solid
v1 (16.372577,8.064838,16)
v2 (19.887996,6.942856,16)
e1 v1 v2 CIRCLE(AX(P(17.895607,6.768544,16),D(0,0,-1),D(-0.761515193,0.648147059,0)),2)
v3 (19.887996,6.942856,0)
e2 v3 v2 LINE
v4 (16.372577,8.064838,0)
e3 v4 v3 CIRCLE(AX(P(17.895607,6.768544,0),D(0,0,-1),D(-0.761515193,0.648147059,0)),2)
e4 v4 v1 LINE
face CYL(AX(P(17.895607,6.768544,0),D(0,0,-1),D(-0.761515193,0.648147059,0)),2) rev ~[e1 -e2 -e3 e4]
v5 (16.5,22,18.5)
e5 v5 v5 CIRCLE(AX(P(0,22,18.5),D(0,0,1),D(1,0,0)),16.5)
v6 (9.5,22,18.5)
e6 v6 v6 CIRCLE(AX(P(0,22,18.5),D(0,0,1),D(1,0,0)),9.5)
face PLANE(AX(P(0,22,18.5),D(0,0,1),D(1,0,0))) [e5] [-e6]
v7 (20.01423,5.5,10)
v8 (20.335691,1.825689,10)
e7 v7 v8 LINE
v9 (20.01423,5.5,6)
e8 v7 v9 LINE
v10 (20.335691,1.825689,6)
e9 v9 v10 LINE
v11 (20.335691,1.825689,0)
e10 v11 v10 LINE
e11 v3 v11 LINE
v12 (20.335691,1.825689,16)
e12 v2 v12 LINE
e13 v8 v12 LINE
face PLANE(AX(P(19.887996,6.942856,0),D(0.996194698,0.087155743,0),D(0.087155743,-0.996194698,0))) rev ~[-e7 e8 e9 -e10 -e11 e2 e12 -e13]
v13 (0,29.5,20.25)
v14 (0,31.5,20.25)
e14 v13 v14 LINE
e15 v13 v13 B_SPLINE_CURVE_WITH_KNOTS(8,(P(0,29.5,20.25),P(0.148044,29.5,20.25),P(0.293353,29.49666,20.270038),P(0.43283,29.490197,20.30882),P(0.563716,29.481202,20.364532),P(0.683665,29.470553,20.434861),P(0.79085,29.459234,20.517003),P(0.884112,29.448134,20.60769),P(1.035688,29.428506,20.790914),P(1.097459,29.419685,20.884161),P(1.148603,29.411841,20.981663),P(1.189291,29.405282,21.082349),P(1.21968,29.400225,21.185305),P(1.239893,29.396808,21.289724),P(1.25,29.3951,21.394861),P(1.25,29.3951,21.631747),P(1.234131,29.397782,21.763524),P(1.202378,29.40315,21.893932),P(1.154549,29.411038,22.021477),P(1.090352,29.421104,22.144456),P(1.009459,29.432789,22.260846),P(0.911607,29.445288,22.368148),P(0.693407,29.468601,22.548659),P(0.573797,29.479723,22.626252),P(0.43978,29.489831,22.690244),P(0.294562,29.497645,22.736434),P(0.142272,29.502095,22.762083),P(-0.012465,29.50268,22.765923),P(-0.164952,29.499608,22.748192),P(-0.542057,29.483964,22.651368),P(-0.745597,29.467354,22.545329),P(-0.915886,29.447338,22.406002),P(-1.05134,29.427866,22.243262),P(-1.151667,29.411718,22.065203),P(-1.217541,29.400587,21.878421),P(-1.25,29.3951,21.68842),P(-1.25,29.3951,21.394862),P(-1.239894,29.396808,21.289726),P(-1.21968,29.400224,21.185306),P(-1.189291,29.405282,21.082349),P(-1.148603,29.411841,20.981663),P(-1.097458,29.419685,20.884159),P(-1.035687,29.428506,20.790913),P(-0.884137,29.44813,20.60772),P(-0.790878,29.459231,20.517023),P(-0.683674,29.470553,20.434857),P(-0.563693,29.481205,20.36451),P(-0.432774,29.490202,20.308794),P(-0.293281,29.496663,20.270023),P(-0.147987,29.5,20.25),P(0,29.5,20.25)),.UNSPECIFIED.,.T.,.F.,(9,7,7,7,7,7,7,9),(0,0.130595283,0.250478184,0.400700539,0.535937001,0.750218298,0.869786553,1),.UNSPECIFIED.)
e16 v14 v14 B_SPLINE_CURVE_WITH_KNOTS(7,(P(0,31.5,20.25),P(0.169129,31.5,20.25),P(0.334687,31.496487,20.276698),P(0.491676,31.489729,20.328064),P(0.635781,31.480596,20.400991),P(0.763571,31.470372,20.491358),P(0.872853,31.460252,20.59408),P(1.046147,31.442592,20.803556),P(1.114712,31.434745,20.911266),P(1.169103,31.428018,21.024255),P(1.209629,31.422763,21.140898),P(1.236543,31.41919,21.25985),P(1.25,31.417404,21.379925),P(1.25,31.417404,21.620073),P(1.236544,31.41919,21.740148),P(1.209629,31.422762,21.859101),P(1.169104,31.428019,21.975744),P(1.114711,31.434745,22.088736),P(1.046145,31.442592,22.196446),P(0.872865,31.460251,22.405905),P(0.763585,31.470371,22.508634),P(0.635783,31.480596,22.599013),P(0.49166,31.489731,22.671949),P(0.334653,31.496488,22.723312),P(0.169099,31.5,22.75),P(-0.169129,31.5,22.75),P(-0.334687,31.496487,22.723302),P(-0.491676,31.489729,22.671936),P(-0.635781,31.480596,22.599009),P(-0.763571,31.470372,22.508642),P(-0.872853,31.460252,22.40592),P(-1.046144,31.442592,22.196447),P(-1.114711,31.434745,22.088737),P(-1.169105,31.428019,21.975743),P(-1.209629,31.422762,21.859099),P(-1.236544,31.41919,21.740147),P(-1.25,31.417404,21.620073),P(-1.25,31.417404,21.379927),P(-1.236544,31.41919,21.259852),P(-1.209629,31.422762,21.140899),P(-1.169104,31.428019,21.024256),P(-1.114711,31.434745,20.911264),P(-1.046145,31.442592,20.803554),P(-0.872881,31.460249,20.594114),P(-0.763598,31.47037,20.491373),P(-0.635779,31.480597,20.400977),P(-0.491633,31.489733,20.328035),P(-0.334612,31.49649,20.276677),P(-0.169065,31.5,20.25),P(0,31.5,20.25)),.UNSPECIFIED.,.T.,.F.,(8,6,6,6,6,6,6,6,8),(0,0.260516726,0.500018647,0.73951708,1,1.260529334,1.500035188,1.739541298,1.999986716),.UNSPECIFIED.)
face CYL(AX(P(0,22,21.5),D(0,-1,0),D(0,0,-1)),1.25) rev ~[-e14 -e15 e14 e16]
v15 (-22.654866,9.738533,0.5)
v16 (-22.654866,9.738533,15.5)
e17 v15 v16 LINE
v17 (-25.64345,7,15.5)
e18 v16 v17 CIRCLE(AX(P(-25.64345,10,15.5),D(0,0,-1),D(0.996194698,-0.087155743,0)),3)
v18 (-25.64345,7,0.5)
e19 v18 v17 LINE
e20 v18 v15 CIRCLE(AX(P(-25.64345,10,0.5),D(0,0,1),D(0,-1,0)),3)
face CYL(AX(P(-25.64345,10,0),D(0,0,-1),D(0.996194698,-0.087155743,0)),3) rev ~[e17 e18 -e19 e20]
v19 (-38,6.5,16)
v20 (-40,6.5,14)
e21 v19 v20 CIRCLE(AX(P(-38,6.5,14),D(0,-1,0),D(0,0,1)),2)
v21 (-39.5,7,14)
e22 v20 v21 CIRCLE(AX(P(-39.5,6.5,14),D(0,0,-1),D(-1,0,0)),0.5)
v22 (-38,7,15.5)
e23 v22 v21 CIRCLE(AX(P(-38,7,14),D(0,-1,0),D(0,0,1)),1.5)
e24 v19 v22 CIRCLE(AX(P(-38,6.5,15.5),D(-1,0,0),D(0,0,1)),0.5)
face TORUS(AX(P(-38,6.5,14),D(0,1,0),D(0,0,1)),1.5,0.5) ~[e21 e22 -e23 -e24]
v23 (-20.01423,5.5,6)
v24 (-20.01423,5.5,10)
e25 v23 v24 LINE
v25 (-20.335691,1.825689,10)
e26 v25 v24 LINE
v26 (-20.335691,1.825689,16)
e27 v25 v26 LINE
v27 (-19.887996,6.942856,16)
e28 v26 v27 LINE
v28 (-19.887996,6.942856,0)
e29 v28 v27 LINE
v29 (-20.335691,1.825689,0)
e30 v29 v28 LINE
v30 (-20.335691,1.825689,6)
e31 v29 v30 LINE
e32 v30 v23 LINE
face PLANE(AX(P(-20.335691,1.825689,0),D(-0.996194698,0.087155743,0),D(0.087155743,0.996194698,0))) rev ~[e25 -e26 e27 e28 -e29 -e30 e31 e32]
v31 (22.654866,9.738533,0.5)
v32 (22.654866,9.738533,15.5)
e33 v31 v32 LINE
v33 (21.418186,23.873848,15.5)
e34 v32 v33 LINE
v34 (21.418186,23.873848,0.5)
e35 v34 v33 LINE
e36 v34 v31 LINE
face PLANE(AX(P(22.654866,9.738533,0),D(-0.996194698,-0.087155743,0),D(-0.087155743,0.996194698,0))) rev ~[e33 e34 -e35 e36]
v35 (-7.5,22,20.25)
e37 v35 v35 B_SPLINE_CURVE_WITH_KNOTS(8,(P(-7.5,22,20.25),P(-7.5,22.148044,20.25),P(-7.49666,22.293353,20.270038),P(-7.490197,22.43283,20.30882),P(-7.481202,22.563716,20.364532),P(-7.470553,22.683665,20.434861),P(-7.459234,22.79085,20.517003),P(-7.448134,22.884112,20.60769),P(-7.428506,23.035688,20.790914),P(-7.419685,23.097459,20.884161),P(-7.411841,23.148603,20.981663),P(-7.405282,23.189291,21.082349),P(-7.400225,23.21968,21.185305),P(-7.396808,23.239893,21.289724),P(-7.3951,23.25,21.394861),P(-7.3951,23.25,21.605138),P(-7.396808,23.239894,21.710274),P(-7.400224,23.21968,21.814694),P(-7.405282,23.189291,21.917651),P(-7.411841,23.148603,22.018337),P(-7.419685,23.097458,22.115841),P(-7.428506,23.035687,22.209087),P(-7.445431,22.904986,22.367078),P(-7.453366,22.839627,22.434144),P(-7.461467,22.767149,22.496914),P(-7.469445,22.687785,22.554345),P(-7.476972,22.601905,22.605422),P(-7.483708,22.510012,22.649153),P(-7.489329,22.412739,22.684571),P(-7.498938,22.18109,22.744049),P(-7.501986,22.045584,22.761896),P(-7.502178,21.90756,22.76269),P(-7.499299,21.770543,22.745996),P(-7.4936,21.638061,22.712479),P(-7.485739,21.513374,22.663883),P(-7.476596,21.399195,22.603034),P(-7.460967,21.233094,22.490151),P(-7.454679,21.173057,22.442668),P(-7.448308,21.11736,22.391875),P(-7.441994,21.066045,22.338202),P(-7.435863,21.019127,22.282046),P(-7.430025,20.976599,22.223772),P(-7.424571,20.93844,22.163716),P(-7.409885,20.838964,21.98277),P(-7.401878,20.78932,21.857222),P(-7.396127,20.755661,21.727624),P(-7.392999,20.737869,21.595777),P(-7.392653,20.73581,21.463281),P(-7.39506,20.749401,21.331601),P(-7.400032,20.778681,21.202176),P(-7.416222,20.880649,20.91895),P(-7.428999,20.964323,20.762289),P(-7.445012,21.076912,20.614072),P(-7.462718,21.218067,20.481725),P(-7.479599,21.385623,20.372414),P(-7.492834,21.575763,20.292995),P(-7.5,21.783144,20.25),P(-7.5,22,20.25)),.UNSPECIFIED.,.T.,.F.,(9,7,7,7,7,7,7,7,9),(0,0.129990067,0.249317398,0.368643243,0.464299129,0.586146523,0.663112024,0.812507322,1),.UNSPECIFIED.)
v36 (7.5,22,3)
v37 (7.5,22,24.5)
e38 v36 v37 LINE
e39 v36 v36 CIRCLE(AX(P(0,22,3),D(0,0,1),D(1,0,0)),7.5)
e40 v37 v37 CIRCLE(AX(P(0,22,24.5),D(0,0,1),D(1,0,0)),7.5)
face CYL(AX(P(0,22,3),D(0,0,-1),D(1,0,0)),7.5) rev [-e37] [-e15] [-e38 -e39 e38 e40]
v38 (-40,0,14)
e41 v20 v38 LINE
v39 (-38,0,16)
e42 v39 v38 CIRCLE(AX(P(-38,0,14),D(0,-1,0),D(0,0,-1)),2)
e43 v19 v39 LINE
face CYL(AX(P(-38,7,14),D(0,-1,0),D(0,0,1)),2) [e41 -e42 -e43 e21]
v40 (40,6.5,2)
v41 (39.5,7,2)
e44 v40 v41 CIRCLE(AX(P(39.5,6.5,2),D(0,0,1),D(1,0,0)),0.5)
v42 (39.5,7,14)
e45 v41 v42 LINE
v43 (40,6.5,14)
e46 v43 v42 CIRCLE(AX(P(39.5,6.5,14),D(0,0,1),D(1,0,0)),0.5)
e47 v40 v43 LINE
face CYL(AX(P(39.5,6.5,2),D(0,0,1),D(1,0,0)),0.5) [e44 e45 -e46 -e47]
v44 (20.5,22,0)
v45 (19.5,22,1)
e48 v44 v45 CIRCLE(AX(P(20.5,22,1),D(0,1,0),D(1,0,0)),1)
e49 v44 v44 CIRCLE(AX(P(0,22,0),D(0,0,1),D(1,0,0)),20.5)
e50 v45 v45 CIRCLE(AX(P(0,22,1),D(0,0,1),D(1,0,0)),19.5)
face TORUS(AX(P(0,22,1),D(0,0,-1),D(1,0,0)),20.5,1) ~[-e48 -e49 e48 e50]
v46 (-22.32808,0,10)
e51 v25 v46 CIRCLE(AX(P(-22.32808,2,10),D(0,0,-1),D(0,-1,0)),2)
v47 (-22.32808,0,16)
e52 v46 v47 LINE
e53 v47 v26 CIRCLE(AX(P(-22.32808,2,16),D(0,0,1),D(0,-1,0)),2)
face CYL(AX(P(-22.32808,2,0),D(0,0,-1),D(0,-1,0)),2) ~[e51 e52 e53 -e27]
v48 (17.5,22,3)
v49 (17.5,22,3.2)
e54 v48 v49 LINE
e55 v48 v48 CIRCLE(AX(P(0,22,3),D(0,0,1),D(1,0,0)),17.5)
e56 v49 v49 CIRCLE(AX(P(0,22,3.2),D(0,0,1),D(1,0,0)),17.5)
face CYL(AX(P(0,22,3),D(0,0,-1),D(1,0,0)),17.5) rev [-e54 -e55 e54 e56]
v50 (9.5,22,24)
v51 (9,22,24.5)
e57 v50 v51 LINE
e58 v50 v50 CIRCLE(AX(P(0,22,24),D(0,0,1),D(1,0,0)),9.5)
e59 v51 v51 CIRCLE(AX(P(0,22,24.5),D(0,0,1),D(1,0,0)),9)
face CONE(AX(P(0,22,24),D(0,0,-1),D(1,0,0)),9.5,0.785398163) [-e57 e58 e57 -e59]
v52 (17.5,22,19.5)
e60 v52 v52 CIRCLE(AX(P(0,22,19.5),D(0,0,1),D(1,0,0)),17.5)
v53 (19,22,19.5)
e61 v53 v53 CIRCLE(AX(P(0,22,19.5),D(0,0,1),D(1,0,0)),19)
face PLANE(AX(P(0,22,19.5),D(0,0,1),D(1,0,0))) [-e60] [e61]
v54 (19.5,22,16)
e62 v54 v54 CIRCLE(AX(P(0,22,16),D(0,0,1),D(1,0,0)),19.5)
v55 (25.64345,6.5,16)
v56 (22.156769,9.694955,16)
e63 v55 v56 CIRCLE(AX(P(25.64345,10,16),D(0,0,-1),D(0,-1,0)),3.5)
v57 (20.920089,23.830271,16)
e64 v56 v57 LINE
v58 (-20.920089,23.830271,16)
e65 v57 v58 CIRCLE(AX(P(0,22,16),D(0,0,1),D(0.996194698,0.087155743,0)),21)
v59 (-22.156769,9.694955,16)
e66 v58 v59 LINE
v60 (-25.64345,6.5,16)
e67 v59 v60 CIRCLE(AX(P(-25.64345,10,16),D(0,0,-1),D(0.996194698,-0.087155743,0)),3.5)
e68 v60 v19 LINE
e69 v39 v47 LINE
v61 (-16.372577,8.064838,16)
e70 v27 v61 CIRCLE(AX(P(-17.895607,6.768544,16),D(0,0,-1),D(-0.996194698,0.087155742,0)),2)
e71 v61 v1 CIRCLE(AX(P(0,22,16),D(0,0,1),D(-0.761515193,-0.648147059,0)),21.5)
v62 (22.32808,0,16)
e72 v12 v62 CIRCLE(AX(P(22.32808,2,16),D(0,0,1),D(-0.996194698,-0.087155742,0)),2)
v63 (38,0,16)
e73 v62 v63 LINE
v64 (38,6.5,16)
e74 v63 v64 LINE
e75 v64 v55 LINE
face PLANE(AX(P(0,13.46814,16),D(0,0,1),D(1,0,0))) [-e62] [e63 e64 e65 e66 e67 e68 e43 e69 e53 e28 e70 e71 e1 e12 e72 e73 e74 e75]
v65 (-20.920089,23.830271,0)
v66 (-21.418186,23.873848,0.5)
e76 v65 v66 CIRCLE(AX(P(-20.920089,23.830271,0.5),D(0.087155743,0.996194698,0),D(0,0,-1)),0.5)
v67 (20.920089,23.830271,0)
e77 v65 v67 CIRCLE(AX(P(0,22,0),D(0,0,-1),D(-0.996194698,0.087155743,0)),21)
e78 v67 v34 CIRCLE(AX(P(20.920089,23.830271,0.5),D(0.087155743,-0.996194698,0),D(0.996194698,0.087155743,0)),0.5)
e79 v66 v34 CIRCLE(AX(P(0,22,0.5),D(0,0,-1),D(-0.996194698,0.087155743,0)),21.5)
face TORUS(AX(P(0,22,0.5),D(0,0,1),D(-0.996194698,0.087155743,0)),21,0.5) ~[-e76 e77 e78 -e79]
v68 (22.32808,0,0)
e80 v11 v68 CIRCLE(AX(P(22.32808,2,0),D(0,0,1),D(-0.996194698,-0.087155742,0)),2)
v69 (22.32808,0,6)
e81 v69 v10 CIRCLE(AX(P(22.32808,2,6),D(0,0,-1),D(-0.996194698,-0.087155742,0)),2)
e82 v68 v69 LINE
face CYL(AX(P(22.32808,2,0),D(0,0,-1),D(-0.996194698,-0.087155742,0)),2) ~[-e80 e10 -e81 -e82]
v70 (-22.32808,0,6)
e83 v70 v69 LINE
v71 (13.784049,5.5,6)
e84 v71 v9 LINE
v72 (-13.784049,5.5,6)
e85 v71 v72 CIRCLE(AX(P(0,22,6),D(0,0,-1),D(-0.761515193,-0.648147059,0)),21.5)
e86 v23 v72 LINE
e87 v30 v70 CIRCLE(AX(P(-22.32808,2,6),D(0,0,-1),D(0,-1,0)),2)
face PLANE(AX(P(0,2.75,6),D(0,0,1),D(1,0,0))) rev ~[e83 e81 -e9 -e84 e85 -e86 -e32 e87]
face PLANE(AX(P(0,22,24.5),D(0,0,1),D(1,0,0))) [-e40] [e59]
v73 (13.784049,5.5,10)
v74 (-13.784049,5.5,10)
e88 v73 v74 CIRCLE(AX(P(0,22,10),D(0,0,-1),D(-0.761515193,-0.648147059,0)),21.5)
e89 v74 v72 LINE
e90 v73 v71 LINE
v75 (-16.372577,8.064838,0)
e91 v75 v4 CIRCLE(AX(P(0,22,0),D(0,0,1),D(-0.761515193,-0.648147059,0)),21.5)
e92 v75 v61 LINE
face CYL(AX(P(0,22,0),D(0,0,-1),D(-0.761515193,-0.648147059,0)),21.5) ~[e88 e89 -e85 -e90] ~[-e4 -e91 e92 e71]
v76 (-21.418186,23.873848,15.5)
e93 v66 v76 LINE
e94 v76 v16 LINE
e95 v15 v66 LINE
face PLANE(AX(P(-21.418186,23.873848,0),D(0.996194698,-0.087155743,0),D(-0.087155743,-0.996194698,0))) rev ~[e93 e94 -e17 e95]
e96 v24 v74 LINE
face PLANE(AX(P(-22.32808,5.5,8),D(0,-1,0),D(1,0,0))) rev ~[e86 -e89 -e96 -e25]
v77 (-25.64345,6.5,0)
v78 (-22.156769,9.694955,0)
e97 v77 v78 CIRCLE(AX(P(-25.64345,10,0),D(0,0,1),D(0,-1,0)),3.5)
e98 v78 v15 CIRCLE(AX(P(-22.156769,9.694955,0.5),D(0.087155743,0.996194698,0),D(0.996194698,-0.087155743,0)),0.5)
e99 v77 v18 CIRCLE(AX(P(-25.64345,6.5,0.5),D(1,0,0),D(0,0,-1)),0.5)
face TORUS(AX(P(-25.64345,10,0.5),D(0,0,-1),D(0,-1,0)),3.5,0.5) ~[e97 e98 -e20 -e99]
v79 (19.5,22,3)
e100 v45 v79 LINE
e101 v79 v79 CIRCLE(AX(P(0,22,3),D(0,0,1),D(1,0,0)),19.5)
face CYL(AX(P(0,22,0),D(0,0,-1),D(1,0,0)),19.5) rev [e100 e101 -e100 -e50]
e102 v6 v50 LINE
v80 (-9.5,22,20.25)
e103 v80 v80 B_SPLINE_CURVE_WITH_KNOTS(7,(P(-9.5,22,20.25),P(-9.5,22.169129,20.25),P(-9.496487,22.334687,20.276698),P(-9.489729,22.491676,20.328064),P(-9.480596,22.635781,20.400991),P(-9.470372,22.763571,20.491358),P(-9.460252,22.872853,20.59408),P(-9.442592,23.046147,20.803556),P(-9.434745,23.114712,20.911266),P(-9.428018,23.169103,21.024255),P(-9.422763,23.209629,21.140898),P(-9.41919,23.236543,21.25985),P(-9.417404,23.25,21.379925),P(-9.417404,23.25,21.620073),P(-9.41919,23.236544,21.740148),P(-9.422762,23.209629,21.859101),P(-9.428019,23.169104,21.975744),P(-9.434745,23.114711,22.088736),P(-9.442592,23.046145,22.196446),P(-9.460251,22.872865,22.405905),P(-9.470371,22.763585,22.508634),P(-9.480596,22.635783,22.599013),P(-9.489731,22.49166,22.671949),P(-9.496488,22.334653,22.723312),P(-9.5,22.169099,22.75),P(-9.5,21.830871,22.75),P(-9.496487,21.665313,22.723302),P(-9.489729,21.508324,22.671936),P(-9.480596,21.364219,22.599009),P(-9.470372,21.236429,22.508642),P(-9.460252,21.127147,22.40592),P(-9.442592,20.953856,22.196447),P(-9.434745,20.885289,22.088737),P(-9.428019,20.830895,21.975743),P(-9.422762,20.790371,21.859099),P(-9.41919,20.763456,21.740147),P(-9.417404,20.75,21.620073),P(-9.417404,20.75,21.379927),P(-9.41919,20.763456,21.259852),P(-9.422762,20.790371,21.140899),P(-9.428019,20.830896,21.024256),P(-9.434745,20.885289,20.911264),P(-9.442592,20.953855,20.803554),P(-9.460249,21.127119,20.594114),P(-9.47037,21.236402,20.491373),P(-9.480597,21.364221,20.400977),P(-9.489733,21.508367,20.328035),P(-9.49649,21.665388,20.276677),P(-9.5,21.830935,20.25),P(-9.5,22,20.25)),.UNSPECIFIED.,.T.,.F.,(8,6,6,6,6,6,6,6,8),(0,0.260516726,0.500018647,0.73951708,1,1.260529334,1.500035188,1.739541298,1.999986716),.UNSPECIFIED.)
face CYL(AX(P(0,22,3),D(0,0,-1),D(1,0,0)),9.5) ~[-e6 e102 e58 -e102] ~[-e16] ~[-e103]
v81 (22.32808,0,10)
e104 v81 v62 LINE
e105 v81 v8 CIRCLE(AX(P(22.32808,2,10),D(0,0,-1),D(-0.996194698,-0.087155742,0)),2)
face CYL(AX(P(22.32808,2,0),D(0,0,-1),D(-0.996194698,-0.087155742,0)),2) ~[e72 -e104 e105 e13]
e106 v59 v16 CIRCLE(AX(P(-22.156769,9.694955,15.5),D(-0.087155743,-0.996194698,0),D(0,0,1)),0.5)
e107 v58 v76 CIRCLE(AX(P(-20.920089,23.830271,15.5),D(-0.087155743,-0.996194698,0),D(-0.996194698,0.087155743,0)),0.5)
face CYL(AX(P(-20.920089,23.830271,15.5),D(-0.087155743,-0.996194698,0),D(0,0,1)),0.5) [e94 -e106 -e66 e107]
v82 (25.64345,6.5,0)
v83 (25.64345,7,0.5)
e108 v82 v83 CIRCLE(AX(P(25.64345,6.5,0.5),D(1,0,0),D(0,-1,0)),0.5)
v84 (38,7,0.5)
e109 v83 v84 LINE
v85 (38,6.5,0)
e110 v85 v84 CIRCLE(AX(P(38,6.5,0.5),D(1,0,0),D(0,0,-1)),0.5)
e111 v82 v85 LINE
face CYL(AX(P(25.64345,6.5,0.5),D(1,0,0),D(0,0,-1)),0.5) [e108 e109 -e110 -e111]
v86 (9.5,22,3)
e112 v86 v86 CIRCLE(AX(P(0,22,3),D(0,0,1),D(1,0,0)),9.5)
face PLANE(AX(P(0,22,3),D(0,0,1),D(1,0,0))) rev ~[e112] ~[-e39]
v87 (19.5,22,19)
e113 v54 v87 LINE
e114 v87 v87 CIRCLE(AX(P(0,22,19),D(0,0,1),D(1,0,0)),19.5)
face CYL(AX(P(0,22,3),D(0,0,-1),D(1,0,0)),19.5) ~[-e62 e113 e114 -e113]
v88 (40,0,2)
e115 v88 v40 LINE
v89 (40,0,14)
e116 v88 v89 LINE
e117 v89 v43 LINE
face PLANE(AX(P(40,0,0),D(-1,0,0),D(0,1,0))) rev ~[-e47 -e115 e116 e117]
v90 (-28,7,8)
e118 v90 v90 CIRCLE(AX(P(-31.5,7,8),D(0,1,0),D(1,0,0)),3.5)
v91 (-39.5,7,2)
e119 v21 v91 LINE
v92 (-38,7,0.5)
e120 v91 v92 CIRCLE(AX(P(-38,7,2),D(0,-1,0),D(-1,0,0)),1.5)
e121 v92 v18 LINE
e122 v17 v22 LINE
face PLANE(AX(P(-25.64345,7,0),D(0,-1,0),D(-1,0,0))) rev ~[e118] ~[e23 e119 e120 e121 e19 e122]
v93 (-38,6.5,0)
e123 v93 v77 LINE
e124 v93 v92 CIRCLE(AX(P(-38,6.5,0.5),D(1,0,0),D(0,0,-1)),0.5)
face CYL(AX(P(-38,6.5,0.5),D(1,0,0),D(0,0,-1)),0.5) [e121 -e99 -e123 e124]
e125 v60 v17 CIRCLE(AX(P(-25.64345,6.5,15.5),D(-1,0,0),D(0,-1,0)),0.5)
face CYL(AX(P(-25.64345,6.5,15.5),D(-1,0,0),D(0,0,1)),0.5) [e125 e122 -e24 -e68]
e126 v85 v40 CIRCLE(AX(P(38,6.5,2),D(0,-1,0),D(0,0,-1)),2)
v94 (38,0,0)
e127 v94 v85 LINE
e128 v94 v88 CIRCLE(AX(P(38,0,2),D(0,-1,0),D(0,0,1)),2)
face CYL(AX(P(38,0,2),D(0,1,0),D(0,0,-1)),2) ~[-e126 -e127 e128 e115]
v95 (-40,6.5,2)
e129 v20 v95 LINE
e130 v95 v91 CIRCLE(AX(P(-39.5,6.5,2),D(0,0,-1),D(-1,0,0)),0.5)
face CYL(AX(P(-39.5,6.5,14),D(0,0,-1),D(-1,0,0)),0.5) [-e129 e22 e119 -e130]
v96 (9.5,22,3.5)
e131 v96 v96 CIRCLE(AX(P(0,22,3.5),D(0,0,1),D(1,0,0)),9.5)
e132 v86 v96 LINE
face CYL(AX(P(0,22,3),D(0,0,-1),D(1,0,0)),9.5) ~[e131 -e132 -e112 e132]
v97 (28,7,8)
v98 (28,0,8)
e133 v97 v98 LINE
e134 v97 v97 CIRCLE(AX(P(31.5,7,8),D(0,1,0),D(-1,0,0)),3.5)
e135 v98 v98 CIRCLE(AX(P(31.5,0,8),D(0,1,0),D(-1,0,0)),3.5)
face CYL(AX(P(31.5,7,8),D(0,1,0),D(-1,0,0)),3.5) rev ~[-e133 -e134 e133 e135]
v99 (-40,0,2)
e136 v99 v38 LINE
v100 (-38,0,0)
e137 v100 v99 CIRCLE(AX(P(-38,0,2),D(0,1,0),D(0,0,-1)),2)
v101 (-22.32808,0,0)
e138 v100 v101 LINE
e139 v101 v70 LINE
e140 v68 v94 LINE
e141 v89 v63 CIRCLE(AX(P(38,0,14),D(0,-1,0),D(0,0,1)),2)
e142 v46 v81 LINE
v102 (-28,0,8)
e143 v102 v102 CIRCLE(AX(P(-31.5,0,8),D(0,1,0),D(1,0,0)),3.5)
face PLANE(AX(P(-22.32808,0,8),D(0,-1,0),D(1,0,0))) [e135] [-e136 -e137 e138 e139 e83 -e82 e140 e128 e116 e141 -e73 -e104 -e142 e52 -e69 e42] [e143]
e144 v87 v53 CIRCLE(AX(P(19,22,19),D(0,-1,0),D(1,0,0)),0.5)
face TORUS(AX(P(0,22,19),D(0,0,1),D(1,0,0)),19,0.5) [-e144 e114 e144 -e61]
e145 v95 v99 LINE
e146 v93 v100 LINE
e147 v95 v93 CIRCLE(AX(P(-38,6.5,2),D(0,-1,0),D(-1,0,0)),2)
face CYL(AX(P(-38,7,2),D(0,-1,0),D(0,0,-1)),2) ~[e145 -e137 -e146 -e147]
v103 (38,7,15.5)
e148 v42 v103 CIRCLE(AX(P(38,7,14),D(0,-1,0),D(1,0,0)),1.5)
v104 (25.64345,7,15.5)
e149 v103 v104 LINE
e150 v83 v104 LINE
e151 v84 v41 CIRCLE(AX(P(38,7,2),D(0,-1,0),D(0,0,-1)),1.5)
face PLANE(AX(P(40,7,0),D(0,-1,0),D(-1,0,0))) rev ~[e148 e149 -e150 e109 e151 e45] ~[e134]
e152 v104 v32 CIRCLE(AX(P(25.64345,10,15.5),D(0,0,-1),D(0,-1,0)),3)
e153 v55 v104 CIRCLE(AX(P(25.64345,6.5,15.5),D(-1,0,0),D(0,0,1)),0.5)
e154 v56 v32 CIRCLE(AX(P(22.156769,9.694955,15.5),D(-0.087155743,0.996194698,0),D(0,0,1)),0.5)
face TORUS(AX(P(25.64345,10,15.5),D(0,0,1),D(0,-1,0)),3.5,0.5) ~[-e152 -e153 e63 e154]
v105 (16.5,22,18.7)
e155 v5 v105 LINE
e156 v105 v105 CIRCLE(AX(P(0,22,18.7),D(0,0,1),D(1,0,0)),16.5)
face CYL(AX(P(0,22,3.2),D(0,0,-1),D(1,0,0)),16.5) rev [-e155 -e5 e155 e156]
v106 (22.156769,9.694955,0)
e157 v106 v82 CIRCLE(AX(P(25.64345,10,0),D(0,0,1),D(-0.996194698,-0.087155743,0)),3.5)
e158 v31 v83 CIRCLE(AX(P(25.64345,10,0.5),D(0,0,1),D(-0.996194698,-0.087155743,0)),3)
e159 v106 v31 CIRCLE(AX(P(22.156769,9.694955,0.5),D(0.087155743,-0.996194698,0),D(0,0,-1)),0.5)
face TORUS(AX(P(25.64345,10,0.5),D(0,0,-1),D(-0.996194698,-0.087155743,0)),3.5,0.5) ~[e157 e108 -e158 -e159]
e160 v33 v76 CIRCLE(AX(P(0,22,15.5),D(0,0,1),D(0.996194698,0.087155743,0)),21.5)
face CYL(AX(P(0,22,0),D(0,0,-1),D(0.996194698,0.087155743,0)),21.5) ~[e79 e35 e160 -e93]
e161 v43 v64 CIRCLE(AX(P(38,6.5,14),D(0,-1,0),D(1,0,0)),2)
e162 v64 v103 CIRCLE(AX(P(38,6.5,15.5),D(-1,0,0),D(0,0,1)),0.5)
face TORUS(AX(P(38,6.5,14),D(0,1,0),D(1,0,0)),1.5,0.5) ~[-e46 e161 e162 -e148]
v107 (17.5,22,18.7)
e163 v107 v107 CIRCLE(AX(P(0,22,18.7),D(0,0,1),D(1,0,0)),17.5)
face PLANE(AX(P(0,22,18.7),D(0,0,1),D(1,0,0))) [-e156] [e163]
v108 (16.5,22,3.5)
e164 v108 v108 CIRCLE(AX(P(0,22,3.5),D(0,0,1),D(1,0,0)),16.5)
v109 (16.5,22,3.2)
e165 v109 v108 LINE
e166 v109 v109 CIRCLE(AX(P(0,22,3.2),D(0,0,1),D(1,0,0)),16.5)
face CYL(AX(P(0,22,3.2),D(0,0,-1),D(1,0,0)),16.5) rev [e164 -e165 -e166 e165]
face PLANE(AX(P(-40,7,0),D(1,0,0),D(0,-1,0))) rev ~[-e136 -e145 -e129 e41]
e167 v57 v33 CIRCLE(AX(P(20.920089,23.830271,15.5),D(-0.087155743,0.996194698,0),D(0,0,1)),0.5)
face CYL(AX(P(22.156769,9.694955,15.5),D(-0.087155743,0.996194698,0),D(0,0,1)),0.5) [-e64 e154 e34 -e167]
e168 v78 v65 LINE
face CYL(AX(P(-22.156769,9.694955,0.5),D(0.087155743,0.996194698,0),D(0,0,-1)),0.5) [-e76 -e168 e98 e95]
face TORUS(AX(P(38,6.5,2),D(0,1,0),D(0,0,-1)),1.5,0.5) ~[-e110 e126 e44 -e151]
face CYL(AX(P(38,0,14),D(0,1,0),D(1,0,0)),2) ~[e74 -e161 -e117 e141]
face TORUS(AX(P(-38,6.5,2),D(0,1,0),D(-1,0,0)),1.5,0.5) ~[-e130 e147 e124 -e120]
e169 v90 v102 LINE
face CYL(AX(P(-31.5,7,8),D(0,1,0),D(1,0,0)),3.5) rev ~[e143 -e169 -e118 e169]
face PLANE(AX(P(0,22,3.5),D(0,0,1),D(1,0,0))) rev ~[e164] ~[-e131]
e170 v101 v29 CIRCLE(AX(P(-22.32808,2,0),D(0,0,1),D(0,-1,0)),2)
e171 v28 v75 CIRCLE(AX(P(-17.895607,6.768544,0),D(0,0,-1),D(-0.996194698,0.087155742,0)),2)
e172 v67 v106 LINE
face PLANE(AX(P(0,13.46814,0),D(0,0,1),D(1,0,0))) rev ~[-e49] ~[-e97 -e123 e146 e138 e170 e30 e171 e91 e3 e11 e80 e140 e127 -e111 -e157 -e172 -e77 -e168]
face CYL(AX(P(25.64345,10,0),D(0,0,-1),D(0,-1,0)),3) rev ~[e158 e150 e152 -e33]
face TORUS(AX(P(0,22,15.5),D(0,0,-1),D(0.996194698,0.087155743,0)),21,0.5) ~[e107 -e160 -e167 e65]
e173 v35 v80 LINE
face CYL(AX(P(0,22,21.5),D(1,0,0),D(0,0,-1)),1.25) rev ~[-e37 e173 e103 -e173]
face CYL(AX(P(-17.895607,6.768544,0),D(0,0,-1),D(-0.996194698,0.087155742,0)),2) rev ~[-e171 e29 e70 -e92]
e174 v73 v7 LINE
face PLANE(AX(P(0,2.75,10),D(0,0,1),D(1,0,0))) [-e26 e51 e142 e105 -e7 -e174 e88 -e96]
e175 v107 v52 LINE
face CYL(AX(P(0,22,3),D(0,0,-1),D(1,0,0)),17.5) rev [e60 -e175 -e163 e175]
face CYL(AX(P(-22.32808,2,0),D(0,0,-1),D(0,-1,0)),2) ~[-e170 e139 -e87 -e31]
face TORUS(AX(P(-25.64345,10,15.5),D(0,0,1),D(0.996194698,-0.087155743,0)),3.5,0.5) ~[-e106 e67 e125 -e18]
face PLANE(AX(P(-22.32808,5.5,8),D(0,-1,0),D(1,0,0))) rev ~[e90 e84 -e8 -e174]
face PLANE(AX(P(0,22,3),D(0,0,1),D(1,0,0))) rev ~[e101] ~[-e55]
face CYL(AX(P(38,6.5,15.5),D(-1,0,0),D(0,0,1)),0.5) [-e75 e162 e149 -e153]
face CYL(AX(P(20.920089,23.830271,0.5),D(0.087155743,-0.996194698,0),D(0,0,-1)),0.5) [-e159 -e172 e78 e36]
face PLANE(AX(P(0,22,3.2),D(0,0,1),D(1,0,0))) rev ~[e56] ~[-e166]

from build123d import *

# Parameters (mm, degrees)
SKETCH1_R               = 19.5
EXTRUDE_B_DEPTH         = 16
B1S_START               = 3
SKETCH1_3_R             = 19.5
SKETCH1_3_R_2           = 17.5
B1S_DEPTH               = 16.5
BOSS_EXTRUDE3_START     = 3.2
SKETCH1_4_R             = 17.5
SKETCH1_4_R_2           = 16.5
BOSS_EXTRUDE3_DEPTH     = 15.5
BOSS_EXTRUDE4_START     = 3.5
SKETCH1_6_R             = 16.5
SKETCH1_6_R_2           = 9.5
BOSS_EXTRUDE4_DEPTH     = 15
EXTRUDE_START           = 3
SKETCH1_7_R             = 9.5
SKETCH1_7_R_2           = 7.5
EXTRUDE_A_DEPTH         = 21.5
SKETCH2_W               = 44.65615988
SKETCH2_H               = 5.5
BOSS_EXTRUDE6_DEPTH     = 2
CUT_EXTRUDE1_REACH      = 65.973
CUT_EXTRUDE1_END_RADIUS = 9.5
SKETCH3_R               = 1.25
CIRPATTERN1_COUNT       = 2
CIRPATTERN1_ANGLE       = 90
FILLET1_R               = 2
FILLET2_R               = 0.5
FILLET3_R               = 1
CHAMFER1_SIZE           = 0.5
SKETCH4_R               = 3.5
CUT_EXTRUDE_J_DEPTH     = 60.434838377


with BuildPart() as part:
    # Sketch1 → Extrude B (new body)
    with BuildSketch(Plane.XY):
        with BuildLine():
            Line((22.654865888, 9.738532772), (21.418186009, 23.873848469))
            ThreePointArc((21.418186009, 23.873848469), (0, 43.5), (-21.418186009, 23.873848469))
            Line((-21.418186009, 23.873848469), (-22.654865888, 9.738532772))
            ThreePointArc((-22.654865888, 9.738532772), (-23.616679359, 7.78816799), (-25.643449982, 7))
            Line((-25.643449982, 7), (-40, 7))
            Line((-40, 7), (-40, 0))
            Line((-40, 0), (-22.32807994, 0))
            ThreePointArc((-22.32807994, 0), (-20.976899525, 0.525445326), (-20.335690544, 1.825688515))
            Line((-20.335690544, 1.825688515), (-19.887996435, 6.94285559))
            ThreePointArc((-19.887996435, 6.94285559), (-18.503707136, 8.673856224), (-16.372576653, 8.064838223))
            ThreePointArc((-16.372576653, 8.064838223), (0, 0.5), (16.372576653, 8.064838223))
            ThreePointArc((16.372576653, 8.064838223), (18.503707136, 8.673856224), (19.887996435, 6.94285559))
            Line((19.887996435, 6.94285559), (20.335690544, 1.825688515))
            ThreePointArc((20.335690544, 1.825688515), (20.976899525, 0.525445326), (22.32807994, 0))
            Line((22.32807994, 0), (40, 0))
            Line((40, 0), (40, 7))
            Line((40, 7), (25.643449982, 7))
            ThreePointArc((25.643449982, 7), (23.616679359, 7.78816799), (22.654865888, 9.738532772))
        make_face()
        with Locations((0, 22)):
            Circle(SKETCH1_R, mode=Mode.SUBTRACT)
    extrude(amount=EXTRUDE_B_DEPTH)

    # Sketch1<3> → B1S (add)
    with BuildSketch(Plane.XY.offset(B1S_START)):
        with Locations((0, 22)):
            Circle(SKETCH1_3_R)
        with Locations((0, 22)):
            Circle(SKETCH1_3_R_2, mode=Mode.SUBTRACT)
    extrude(amount=B1S_DEPTH)

    # Sketch1<4> → Boss-Extrude3 (add)
    with BuildSketch(Plane.XY.offset(BOSS_EXTRUDE3_START)):
        with Locations((0, 22)):
            Circle(SKETCH1_4_R)
        with Locations((0, 22)):
            Circle(SKETCH1_4_R_2, mode=Mode.SUBTRACT)
    extrude(amount=BOSS_EXTRUDE3_DEPTH)

    # Sketch1<6> → Boss-Extrude4 (add)
    with BuildSketch(Plane.XY.offset(BOSS_EXTRUDE4_START)):
        with Locations((0, 22)):
            Circle(SKETCH1_6_R)
        with Locations((0, 22)):
            Circle(SKETCH1_6_R_2, mode=Mode.SUBTRACT)
    extrude(amount=BOSS_EXTRUDE4_DEPTH)

    # Sketch1<7> → Extrude A (add)
    with BuildSketch(Plane.XY.offset(EXTRUDE_START)):
        with Locations((0, 22)):
            Circle(SKETCH1_7_R)
        with Locations((0, 22)):
            Circle(SKETCH1_7_R_2, mode=Mode.SUBTRACT)
    extrude(amount=EXTRUDE_A_DEPTH)

    # Sketch2 → Boss-Extrude6 (add, symmetric)
    with BuildSketch(Plane.XY.offset(8)):
        with Locations((0, 2.75)):
            Rectangle(SKETCH2_W, SKETCH2_H)
    extrude(amount=BOSS_EXTRUDE6_DEPTH, both=True)

    # Cut-Extrude1: up to this cylinder (the profile starts inside it)
    cut_extrude1_end = Plane(origin=(0, 22, 21.5), z_dir=(0, 0, -1)) * Cylinder(CUT_EXTRUDE1_END_RADIUS, 151.946, mode=Mode.PRIVATE)
    # Sketch3 → Cut-Extrude1 (cut, up to the surface)
    with BuildSketch(Plane(origin=(0, 0, 0), x_dir=(0, 0, -1), z_dir=(1, 0, 0)), mode=Mode.PRIVATE) as cut_extrude1_sk1:
        with Locations((-21.5, 22)):
            Circle(SKETCH3_R)
    cut_extrude1_tool1 = extrude(cut_extrude1_sk1.sketch, amount=-CUT_EXTRUDE1_REACH, mode=Mode.PRIVATE) & cut_extrude1_end
    cut_extrude1 = cut_extrude1_tool1.solids().sort_by_distance((0, 22, 21.5))[0]
    add(cut_extrude1, mode=Mode.SUBTRACT)

    # CirPattern1: Cut-Extrude1 ×2 about axis
    cirpattern1_axis = Axis((0, 22, 24.5), (0, 0, -1))
    for i in range(1, CIRPATTERN1_COUNT):
        add(cut_extrude1.rotate(cirpattern1_axis, i * CIRPATTERN1_ANGLE / (CIRPATTERN1_COUNT - 1)), mode=Mode.SUBTRACT)

    # Fillet1
    fillet1_edges = [part.edges().sort_by_distance(p)[0] for p in [
        (40, 3.5, 0),
        (-40, 3.5, 0),
        (-40, 3.5, 16),
        (40, 3.5, 16),
    ]]
    fillet(fillet1_edges, radius=FILLET1_R)

    # Fillet2
    fillet2_edges = [part.edges().sort_by_distance(p)[0] for p in [
        (22.036525948, 16.80619062, 16),
        (31.821724991, 7, 0),
        (-31.821724991, 7, 0),
        (-40, 7, 8),
        (-31.821724991, 7, 16),
        (-39.414213562, 7, 15.414213562),
        (-39.414213562, 7, 0.585786438),
        (31.821724991, 7, 16),
        (40, 7, 8),
        (39.414213562, 7, 15.414213562),
        (39.414213562, 7, 0.585786438),
        (0, 43.5, 16),
        (-22.036525948, 16.80619062, 16),
        (23.616679359, 7.78816799, 0),
        (-23.616679359, 7.78816799, 16),
        (-23.616679359, 7.78816799, 0),
        (-22.036525948, 16.80619062, 0),
        (0, 43.5, 0),
        (22.036525948, 16.80619062, 0),
        (-19.5, 22, 19.5),
        (23.616679359, 7.78816799, 16),
    ]]
    fillet(fillet2_edges, radius=FILLET2_R)

    # Fillet3
    fillet3_edges = [part.edges().sort_by_distance(p)[0] for p in [
        (-19.5, 22, 0),
    ]]
    fillet(fillet3_edges, radius=FILLET3_R)

    # Chamfer1
    chamfer1_edges = [part.edges().sort_by_distance(p)[0] for p in [
        (-9.5, 22, 24.5),
    ]]
    chamfer(chamfer1_edges, length=CHAMFER1_SIZE)

    # Sketch4 → Cut-Extrude J (cut, through all)
    with BuildSketch(Plane(origin=(0, 7, 0), x_dir=(1, 0, 0), z_dir=(0, 1, 0))):
        with Locations(Location((31.5, -8, 0), (0, 0, 180))):
            Circle(SKETCH4_R)
        with Locations((-31.5, -8)):
            Circle(SKETCH4_R)
    extrude(amount=-CUT_EXTRUDE_J_DEPTH, mode=Mode.SUBTRACT)


solid = part.part
